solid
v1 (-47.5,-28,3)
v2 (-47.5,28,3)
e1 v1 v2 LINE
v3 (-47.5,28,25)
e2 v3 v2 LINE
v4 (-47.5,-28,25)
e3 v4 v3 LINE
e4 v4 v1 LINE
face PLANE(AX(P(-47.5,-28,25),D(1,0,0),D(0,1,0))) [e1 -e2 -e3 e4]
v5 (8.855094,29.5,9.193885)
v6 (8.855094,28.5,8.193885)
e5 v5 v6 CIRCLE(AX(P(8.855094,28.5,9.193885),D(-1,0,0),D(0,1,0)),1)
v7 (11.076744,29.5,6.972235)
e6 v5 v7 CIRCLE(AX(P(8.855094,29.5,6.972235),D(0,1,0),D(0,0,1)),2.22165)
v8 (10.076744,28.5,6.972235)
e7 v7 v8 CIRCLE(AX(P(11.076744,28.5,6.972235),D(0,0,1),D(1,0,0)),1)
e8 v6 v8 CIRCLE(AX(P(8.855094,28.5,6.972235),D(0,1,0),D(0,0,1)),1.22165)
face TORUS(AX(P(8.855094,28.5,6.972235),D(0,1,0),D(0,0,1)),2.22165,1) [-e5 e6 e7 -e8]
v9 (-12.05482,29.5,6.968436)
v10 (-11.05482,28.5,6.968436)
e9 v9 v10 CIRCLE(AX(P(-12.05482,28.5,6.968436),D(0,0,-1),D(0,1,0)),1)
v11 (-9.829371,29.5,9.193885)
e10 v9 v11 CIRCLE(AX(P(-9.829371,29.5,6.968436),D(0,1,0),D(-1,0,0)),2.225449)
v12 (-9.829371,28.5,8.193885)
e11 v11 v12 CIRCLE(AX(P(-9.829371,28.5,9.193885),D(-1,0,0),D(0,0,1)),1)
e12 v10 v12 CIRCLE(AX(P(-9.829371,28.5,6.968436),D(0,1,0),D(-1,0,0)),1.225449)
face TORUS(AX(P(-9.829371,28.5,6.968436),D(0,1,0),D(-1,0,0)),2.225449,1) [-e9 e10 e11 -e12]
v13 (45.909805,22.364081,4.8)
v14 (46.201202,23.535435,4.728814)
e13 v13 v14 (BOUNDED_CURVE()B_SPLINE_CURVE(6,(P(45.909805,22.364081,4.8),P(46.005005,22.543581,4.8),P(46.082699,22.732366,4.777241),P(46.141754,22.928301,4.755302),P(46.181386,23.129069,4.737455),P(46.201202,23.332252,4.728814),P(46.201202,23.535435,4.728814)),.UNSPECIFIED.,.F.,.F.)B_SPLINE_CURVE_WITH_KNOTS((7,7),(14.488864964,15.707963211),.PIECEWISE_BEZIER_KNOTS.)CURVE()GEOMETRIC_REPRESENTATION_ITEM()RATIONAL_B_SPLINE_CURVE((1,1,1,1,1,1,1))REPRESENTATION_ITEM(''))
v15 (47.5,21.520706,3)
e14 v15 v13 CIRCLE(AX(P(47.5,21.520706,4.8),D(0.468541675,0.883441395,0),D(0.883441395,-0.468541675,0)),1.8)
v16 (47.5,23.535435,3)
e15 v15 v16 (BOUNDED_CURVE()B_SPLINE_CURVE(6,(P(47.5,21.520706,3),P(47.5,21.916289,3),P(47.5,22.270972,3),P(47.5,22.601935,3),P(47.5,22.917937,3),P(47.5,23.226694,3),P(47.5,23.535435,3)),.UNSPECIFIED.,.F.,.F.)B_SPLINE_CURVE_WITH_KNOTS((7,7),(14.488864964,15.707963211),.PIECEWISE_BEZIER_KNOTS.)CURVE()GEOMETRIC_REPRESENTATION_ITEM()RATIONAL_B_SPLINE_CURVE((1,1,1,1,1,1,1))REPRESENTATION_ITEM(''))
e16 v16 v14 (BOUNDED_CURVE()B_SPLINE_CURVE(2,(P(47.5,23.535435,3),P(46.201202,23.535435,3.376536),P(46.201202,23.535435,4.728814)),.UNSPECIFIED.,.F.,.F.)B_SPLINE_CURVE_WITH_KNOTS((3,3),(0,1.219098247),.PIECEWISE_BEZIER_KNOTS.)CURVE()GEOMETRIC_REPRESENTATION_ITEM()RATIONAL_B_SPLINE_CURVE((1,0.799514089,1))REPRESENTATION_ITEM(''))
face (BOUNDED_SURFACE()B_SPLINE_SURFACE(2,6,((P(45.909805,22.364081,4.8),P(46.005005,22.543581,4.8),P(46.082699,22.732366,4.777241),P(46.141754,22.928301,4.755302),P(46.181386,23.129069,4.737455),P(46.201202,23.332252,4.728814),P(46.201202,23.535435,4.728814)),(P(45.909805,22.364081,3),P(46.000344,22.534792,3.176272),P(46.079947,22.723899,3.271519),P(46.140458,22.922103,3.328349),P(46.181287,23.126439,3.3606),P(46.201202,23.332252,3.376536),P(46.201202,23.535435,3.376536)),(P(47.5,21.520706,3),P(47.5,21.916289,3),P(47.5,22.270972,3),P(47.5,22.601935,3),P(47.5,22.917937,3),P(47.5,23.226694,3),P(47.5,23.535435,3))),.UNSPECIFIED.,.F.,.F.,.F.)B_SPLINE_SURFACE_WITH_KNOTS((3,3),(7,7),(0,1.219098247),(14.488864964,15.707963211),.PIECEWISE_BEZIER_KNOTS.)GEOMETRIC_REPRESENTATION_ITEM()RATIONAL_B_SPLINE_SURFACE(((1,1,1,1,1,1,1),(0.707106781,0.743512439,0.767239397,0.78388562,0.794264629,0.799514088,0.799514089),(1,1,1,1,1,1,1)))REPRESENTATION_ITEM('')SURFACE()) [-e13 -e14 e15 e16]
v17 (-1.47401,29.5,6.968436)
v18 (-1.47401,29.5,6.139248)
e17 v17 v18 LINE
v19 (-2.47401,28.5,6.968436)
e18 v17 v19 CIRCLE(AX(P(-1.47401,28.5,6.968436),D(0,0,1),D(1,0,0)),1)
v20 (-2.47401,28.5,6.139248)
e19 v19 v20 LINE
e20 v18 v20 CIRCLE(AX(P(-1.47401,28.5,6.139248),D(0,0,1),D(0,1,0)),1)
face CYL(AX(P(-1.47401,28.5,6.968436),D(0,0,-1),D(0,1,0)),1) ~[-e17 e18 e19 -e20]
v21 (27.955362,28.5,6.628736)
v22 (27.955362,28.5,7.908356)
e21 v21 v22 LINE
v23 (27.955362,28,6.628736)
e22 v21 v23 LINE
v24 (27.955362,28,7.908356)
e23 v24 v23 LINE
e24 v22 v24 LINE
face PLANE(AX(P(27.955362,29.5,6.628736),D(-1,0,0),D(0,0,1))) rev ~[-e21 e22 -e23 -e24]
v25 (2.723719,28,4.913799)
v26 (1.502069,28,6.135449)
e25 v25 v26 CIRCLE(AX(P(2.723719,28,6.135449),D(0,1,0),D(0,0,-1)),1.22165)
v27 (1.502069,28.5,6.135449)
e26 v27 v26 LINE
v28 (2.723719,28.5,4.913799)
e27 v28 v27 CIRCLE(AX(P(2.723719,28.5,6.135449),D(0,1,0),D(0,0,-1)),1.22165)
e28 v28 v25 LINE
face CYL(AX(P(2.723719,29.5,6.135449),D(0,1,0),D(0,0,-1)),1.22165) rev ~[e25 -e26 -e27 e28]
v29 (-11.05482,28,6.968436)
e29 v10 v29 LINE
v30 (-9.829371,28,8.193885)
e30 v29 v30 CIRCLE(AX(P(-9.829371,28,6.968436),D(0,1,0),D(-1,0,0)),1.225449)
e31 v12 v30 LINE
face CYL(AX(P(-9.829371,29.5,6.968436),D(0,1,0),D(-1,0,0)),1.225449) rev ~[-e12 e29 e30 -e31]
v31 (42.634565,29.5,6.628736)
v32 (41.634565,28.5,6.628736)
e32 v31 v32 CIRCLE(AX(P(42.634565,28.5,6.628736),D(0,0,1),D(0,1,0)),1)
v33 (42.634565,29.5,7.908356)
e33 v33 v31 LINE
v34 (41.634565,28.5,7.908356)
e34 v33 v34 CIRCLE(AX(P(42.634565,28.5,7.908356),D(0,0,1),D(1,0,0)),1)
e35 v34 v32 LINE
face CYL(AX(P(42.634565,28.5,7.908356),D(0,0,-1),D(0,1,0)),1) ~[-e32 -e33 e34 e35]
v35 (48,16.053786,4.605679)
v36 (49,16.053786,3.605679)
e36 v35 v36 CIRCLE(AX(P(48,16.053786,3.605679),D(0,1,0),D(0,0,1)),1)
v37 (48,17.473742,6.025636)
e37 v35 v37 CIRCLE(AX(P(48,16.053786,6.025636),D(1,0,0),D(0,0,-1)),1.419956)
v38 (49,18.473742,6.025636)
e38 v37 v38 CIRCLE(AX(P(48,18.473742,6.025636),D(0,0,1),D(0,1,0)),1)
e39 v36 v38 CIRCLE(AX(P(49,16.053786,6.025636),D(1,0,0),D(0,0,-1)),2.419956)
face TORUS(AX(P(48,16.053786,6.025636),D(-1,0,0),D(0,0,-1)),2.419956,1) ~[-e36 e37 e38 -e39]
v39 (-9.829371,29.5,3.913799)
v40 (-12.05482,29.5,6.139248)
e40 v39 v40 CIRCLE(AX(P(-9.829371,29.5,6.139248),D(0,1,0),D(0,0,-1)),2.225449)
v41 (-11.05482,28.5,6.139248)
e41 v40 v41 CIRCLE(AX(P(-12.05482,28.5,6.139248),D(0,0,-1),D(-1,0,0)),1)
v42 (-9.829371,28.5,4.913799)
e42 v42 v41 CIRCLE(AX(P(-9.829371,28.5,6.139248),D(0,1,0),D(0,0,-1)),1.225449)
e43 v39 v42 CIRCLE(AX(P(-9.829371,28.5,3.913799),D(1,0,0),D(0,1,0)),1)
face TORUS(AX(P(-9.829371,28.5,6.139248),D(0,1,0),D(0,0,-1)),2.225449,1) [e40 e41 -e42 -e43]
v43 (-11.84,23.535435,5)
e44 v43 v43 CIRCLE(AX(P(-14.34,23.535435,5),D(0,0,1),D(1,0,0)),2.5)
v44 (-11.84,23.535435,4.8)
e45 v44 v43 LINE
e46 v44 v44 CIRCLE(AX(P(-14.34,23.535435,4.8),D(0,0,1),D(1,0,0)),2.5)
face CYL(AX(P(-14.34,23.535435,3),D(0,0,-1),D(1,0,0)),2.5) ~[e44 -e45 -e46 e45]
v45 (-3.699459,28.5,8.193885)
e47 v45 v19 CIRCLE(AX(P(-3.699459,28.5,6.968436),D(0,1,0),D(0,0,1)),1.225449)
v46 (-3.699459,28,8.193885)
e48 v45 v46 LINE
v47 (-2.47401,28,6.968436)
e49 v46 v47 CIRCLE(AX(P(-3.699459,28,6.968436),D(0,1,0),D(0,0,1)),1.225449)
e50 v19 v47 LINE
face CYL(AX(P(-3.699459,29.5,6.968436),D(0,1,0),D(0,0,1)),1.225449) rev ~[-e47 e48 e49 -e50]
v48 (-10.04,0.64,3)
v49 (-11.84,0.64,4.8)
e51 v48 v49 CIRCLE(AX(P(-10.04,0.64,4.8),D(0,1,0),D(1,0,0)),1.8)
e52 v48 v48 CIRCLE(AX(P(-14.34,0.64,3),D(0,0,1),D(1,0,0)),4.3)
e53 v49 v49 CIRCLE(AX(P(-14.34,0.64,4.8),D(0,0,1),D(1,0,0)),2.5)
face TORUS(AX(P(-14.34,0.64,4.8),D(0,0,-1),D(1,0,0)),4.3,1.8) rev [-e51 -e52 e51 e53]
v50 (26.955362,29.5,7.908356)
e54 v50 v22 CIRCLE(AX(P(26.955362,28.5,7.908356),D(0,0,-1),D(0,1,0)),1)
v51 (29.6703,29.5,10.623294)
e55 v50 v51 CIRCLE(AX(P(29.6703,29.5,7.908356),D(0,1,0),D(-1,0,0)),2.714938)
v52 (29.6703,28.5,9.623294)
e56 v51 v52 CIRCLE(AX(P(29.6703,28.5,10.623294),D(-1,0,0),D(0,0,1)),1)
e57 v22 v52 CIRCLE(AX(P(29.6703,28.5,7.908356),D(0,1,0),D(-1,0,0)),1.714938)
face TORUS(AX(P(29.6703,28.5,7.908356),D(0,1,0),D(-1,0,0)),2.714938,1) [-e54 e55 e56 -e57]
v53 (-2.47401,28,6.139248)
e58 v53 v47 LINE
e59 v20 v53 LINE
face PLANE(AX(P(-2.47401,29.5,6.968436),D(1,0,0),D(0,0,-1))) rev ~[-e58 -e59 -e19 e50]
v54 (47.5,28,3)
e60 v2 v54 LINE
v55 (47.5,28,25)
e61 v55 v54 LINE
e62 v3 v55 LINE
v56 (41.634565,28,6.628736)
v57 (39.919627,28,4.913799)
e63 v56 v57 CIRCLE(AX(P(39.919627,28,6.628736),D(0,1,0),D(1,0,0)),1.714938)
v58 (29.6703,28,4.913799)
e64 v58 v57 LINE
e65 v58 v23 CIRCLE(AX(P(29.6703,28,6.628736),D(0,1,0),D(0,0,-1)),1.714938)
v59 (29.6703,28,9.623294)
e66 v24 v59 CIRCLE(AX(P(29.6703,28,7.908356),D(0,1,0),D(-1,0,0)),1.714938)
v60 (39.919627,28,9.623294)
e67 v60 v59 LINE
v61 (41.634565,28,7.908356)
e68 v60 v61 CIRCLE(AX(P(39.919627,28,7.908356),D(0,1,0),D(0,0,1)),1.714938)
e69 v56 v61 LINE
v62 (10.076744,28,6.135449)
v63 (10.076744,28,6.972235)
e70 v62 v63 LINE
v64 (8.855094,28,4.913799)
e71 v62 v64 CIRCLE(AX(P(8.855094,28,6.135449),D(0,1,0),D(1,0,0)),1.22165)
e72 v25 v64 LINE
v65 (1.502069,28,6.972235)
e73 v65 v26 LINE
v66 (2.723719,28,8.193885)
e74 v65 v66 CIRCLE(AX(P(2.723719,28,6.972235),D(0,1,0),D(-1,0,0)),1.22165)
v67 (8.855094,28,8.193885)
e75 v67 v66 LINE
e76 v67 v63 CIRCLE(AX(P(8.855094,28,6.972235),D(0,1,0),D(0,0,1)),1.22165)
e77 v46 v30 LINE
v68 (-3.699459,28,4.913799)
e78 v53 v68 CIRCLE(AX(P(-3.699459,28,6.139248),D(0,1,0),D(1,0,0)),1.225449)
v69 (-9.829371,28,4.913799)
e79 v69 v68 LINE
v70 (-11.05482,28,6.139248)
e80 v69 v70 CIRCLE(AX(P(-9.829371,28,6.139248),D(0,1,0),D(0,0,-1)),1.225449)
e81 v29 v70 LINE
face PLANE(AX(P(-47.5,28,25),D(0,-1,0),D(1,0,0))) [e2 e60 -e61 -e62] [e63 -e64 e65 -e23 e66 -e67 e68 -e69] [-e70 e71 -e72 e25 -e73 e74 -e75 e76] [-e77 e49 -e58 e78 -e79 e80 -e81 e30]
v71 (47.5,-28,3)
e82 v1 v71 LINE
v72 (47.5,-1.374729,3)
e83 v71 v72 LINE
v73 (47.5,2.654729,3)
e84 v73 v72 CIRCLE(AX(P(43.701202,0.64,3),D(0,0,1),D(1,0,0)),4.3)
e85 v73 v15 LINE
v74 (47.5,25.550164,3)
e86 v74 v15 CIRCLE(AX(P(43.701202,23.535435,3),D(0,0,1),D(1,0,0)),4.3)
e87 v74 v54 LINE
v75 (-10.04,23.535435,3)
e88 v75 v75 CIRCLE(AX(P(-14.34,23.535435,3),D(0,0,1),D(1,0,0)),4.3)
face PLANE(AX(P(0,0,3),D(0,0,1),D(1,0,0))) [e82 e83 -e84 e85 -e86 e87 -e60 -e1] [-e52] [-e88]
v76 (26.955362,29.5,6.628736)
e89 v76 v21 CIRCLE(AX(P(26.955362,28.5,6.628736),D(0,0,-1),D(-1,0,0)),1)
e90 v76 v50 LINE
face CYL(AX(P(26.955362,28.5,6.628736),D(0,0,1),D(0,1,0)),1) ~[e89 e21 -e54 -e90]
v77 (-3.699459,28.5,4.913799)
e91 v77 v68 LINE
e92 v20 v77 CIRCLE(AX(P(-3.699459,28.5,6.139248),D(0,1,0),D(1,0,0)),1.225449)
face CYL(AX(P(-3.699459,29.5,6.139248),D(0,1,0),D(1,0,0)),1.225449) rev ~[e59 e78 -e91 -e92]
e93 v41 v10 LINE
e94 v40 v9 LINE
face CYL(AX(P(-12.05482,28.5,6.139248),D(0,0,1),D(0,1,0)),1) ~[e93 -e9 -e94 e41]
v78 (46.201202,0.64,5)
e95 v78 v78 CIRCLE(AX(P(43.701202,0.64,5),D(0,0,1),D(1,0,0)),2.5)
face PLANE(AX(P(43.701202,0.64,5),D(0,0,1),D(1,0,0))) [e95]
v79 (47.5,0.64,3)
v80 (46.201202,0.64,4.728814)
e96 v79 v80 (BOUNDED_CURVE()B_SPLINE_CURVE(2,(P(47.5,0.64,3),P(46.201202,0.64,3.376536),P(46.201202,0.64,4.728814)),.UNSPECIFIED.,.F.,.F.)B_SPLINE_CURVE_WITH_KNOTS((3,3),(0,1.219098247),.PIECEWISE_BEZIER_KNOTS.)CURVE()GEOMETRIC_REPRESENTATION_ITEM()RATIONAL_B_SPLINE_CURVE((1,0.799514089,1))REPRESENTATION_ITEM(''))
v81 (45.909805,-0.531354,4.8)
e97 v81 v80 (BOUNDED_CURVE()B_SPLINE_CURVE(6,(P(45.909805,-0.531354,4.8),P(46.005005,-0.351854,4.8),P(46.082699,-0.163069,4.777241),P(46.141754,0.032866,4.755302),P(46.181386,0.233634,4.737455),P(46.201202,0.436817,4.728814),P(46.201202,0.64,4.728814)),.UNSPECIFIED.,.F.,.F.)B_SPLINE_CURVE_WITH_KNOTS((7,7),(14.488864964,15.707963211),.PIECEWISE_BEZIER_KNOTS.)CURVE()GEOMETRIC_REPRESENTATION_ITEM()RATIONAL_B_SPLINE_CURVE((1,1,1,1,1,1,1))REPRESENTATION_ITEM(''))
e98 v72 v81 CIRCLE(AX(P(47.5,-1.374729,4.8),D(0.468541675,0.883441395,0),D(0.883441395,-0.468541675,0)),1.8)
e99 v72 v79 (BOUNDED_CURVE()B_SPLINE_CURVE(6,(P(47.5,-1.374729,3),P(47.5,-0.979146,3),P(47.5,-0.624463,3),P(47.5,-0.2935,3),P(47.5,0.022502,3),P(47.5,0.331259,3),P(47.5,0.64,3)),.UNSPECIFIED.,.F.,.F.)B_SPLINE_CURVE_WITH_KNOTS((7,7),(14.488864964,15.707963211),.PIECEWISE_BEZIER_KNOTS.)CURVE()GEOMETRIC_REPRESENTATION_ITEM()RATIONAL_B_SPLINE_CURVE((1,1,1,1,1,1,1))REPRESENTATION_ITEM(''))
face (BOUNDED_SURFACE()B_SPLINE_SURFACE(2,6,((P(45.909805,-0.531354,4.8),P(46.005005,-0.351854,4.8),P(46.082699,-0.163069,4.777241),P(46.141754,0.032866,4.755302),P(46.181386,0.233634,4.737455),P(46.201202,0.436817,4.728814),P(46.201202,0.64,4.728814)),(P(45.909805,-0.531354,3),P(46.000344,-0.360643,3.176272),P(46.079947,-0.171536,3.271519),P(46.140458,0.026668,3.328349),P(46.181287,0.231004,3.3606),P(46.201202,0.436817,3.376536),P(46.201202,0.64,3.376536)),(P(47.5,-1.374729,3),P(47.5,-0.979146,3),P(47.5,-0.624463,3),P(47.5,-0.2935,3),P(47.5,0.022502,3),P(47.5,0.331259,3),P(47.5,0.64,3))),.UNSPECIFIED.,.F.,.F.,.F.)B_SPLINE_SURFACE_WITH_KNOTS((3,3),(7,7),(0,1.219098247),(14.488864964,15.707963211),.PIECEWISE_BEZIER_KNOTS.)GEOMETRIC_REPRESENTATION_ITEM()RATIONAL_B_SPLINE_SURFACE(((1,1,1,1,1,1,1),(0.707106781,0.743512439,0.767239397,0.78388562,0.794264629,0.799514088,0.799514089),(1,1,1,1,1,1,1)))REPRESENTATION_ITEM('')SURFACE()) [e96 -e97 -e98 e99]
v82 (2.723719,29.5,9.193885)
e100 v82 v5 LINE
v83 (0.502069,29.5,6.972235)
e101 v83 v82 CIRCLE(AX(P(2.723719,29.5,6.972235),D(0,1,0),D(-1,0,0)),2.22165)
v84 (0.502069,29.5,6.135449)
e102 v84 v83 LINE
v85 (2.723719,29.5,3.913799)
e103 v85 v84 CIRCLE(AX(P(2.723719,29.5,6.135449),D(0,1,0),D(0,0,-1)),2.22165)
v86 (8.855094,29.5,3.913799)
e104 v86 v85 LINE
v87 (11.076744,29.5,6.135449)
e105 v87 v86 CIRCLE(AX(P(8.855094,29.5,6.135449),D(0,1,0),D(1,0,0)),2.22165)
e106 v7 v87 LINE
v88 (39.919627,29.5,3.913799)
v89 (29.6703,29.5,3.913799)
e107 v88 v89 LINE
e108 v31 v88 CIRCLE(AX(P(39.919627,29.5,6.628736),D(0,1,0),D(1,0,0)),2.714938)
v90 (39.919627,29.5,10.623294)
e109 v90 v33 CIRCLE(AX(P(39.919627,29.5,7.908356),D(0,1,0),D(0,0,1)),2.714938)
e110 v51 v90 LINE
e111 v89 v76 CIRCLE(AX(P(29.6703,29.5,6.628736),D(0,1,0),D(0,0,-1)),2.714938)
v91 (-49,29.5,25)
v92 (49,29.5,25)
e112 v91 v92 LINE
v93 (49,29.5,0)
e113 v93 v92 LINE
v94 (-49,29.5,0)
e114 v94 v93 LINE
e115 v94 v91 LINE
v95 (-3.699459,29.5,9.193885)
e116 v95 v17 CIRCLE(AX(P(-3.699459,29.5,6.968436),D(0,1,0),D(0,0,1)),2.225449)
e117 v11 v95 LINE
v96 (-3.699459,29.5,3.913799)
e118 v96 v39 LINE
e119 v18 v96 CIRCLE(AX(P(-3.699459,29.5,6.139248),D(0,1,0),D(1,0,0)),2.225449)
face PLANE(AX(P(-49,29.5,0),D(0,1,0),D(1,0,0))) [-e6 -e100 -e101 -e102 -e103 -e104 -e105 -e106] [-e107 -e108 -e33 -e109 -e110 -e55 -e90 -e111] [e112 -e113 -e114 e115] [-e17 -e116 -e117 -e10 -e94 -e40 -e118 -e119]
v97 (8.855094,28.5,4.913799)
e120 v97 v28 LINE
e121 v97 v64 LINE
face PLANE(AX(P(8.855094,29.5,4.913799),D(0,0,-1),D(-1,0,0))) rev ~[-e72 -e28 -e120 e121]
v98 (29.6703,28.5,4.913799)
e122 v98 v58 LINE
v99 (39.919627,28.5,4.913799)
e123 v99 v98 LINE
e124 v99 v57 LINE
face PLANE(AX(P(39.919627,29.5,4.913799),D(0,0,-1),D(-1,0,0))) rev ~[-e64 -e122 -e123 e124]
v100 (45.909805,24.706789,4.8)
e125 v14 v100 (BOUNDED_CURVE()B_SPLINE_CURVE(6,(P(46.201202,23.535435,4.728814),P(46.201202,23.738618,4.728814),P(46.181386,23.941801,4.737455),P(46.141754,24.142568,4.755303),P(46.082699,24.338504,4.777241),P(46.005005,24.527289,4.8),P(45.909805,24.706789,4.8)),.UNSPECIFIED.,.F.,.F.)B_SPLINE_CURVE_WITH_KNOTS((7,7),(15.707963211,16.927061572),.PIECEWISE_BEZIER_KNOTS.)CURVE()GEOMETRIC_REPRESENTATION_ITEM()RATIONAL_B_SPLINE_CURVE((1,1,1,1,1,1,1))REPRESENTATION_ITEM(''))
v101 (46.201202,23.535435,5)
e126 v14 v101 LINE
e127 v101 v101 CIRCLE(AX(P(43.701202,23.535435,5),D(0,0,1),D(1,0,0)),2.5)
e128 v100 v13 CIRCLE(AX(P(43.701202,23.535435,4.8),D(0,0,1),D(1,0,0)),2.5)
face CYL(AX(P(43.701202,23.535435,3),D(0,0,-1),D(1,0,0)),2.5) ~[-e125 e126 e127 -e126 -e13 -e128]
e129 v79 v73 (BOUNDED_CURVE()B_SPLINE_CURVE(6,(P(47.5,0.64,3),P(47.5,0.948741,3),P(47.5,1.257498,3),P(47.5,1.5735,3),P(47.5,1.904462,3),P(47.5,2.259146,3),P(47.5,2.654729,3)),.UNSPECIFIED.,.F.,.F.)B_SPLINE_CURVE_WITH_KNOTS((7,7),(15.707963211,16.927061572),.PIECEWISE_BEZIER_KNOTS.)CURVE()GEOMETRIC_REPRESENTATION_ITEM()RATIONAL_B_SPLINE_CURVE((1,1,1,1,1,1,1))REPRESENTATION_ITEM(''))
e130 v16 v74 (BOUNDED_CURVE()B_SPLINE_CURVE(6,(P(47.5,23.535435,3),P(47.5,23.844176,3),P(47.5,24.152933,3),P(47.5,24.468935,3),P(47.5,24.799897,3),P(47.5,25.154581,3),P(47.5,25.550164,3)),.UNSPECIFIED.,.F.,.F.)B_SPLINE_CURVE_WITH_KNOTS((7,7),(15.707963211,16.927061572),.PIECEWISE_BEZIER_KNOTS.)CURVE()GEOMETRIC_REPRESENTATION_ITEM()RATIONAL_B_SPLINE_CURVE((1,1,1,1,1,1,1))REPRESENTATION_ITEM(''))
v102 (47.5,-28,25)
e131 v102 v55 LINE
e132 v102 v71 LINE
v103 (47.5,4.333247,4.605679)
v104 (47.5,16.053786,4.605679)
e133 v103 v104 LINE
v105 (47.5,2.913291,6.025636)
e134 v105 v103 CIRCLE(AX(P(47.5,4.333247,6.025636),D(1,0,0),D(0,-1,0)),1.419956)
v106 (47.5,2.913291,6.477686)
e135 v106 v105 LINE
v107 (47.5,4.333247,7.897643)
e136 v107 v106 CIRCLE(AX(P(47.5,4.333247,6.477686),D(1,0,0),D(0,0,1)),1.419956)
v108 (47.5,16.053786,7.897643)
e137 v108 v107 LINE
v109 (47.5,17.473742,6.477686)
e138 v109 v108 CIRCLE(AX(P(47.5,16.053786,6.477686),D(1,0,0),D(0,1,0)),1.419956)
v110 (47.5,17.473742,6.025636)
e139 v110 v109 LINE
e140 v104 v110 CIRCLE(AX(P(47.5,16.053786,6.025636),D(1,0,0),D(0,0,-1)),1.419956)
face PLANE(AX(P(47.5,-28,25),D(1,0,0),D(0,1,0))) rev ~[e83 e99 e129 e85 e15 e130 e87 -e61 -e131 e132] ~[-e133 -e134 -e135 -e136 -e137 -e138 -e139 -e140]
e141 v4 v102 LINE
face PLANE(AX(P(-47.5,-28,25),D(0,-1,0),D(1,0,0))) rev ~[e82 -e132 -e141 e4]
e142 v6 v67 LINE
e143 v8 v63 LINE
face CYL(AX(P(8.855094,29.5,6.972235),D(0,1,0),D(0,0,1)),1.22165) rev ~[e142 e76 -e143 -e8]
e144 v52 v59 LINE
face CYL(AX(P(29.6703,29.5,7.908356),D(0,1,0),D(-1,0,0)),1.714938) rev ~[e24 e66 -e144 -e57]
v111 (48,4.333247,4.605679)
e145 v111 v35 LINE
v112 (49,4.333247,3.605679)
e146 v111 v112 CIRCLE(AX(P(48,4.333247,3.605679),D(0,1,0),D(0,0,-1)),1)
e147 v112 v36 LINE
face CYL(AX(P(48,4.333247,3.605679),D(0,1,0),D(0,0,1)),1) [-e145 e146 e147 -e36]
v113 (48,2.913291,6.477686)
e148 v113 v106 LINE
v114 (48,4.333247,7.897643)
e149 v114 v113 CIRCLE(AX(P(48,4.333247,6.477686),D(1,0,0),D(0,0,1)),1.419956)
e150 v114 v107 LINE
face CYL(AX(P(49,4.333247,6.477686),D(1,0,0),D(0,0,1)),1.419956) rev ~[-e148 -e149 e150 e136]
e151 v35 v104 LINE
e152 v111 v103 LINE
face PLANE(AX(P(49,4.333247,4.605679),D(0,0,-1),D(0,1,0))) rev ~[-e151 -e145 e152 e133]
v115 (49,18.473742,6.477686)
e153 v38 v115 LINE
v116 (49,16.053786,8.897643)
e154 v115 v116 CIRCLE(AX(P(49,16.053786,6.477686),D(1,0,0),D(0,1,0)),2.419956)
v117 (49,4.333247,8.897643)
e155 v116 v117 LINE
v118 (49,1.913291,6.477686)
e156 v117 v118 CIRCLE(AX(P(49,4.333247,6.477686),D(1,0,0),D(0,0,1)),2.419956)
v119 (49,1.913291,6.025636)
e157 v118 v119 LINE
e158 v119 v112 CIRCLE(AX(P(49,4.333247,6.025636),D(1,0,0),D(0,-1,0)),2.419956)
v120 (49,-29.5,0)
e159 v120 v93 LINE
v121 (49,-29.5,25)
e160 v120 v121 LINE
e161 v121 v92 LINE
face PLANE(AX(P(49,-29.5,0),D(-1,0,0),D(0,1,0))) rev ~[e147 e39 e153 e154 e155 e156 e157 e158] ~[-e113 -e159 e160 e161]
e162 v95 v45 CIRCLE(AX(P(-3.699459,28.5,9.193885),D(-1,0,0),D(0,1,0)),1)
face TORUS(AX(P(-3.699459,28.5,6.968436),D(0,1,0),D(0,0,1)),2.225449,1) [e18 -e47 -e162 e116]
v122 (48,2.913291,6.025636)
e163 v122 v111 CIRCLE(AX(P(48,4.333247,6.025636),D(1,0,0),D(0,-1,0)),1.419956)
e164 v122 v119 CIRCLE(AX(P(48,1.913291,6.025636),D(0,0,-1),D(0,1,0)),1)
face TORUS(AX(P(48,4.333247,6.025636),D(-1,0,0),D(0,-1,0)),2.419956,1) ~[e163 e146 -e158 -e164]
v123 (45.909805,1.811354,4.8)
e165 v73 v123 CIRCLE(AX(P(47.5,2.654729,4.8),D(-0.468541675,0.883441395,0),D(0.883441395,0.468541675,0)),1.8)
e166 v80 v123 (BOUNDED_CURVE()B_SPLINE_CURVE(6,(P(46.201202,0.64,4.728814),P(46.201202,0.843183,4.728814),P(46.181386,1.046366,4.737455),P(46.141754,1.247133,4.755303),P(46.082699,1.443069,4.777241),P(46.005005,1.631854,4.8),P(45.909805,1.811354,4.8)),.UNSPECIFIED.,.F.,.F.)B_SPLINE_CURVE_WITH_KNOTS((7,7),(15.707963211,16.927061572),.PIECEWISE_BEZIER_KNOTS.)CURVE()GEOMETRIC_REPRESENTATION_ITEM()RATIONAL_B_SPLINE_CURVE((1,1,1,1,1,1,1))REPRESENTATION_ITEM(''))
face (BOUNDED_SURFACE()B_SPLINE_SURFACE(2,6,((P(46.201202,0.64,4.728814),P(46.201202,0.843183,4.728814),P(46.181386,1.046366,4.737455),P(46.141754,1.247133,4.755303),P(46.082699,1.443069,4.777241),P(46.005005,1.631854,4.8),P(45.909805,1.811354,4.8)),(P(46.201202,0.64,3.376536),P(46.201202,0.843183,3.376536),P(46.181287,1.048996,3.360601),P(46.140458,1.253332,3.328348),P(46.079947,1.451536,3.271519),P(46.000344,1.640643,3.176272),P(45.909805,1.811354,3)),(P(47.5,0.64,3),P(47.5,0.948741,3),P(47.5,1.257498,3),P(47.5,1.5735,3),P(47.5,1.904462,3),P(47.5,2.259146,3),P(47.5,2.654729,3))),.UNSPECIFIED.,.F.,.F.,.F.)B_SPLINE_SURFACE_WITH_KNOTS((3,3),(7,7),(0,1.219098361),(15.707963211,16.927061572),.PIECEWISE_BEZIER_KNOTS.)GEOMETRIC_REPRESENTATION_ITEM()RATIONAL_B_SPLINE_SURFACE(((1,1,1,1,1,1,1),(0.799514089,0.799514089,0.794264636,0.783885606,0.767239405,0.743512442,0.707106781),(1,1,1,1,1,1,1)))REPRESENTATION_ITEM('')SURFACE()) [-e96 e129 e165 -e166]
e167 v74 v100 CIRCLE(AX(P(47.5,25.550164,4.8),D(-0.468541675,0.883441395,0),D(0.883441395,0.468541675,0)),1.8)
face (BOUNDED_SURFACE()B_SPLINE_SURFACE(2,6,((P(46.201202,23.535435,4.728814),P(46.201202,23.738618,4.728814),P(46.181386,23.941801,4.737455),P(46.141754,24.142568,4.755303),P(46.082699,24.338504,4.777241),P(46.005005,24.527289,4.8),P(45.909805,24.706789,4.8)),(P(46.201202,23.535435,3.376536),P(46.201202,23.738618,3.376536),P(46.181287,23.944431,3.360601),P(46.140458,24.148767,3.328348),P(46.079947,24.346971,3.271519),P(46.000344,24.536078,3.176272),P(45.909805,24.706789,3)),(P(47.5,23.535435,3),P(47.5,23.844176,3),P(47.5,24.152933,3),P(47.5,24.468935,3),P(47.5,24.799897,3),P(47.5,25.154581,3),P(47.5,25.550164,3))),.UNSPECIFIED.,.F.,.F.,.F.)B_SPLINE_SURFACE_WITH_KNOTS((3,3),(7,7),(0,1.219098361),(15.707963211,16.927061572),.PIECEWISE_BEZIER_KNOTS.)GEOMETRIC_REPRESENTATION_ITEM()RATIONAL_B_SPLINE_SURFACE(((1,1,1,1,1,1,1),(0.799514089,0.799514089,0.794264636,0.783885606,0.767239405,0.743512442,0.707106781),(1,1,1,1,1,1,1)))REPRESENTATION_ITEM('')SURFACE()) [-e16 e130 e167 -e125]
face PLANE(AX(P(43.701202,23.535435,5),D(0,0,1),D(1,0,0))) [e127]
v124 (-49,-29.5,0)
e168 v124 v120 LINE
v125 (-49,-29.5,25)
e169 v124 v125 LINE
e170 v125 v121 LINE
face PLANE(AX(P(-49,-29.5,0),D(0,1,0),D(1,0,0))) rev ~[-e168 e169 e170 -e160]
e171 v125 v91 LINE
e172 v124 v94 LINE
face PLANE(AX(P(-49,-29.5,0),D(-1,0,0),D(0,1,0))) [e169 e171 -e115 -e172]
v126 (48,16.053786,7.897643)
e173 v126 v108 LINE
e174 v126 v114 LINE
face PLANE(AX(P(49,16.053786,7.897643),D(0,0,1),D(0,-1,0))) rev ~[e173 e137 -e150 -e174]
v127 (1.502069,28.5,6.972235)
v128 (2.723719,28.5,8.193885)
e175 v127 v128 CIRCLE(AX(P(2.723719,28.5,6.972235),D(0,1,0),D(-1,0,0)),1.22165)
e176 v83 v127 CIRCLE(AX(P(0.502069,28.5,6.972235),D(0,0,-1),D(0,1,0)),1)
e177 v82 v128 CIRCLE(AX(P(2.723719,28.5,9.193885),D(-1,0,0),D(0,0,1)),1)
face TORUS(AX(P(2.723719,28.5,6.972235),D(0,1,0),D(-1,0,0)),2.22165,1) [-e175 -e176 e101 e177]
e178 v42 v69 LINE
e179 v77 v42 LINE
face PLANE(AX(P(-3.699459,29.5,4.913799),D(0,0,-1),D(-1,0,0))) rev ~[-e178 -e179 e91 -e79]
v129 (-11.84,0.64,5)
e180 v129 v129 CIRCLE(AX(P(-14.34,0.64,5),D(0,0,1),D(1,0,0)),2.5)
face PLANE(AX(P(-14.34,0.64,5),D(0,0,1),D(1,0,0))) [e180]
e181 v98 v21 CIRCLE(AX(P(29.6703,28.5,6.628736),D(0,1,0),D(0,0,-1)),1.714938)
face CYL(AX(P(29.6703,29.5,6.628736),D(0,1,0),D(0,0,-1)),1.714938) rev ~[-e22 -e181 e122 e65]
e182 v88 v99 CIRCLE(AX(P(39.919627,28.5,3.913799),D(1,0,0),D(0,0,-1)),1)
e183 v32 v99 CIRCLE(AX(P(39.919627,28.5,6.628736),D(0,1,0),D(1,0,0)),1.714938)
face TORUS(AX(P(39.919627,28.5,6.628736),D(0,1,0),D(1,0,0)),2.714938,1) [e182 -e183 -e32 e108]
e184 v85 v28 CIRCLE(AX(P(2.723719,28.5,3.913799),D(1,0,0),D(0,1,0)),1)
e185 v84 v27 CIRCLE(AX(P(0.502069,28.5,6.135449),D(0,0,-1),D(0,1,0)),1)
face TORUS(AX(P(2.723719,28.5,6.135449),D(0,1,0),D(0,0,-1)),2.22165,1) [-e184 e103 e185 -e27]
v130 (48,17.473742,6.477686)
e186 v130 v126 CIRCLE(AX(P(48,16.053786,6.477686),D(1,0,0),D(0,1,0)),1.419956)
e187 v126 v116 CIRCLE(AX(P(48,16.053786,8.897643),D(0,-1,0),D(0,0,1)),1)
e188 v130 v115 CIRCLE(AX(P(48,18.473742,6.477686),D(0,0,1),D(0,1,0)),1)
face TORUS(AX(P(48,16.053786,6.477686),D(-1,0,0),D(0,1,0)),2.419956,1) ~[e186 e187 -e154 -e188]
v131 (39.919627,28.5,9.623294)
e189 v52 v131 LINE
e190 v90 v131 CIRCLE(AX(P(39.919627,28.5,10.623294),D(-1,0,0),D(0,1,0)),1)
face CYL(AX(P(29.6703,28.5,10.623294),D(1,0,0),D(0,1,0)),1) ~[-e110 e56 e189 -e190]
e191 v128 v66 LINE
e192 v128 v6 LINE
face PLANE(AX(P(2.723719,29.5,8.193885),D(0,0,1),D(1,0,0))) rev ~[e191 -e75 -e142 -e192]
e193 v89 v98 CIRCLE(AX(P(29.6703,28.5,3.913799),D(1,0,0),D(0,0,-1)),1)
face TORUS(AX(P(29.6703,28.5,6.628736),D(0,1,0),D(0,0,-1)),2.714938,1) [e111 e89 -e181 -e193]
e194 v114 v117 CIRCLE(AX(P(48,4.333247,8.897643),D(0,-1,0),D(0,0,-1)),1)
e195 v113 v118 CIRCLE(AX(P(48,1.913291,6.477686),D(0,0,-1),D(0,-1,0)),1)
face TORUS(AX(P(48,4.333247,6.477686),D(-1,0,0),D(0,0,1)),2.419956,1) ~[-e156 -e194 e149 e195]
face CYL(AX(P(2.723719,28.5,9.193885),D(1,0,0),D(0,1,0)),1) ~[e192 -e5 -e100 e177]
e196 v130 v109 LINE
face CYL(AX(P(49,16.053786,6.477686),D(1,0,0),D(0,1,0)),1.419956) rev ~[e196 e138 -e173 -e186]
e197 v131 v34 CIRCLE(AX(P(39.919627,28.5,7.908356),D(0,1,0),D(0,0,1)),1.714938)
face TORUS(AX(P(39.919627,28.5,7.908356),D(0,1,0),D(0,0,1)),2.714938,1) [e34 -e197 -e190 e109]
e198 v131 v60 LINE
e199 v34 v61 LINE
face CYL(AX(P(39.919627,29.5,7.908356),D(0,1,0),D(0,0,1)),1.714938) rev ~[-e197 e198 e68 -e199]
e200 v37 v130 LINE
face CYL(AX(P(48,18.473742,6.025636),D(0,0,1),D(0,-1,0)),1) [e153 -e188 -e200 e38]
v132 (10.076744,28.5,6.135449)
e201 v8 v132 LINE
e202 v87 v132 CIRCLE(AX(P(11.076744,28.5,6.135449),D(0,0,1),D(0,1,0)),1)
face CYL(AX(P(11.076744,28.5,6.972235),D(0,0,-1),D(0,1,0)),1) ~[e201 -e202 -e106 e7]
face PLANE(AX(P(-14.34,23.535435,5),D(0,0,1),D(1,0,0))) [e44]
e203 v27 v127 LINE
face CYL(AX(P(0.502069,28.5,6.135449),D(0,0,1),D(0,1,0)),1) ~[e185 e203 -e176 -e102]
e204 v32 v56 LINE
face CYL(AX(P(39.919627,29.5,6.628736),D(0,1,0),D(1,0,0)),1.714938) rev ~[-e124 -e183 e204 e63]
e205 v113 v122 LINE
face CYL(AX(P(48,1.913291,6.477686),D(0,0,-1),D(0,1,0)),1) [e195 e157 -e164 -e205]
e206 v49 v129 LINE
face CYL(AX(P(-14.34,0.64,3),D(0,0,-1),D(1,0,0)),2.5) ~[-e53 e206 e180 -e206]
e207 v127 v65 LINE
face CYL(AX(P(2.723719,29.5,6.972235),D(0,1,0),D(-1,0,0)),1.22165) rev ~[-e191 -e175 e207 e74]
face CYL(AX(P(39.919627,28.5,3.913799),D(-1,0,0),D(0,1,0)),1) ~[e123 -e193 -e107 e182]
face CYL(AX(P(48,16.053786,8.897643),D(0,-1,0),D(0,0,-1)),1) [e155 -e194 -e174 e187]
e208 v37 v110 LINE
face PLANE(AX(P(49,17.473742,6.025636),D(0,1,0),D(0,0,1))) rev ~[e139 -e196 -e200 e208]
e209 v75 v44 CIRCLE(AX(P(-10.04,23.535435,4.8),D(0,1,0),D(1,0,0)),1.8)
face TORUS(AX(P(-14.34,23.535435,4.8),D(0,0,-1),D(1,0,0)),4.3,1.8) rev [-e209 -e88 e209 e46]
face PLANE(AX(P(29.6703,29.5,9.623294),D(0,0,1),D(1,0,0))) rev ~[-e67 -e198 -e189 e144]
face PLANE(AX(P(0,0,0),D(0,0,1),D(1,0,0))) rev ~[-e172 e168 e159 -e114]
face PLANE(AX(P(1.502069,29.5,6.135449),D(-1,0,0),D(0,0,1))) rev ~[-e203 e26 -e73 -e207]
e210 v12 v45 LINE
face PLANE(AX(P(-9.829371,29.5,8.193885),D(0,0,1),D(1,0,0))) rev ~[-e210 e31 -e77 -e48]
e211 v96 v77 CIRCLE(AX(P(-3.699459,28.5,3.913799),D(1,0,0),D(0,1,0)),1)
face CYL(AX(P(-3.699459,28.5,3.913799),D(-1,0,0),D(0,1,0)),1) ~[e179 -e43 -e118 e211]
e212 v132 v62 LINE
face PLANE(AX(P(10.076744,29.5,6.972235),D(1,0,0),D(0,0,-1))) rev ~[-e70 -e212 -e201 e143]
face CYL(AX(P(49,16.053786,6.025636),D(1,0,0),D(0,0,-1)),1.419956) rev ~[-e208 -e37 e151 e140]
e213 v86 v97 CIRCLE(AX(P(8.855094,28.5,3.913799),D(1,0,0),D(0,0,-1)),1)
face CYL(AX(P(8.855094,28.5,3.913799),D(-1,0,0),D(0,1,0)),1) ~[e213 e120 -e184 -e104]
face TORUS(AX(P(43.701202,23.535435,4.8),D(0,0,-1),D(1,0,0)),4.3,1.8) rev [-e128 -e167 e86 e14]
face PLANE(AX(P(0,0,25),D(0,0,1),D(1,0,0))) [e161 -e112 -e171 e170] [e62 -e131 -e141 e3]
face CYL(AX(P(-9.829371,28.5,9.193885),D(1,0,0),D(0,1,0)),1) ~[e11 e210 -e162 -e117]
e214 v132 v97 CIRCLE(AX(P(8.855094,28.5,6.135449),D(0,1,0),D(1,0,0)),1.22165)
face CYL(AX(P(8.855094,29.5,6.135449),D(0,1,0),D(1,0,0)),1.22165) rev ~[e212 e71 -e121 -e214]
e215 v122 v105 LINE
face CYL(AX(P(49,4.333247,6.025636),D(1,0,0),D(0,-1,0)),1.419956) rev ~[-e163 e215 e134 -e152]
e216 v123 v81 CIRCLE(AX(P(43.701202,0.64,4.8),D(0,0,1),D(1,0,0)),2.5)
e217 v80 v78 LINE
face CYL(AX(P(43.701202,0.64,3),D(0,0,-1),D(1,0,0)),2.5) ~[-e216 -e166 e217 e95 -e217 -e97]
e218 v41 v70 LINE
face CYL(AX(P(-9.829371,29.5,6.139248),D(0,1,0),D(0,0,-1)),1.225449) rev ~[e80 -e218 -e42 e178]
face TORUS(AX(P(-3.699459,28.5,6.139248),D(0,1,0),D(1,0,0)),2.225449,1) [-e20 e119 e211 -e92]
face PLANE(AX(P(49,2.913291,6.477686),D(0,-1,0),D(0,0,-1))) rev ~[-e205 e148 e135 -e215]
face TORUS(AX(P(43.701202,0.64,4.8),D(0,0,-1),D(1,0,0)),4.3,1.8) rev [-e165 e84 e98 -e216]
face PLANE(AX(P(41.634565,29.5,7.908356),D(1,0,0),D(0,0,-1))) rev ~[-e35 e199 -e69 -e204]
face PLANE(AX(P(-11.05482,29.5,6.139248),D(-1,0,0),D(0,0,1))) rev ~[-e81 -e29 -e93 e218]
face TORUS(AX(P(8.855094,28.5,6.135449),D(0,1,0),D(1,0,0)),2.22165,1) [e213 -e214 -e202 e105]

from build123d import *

# Parameters (mm, degrees)
SKETCH034_W     = 98
SKETCH034_H     = 59
PAD018_DEPTH    = 25
SKETCH035_W     = 95
SKETCH035_H     = 56
POCKET011_DEPTH = 22
SKETCH036_R     = 2.5
PAD019_DEPTH    = 2
FILLET005_R     = 1.8
POCKET012_DEPTH = 2
POCKET013_DEPTH = 2
FILLET006_R     = 1


with BuildPart() as part:
    # Sketch034 → Pad018 (new body)
    with BuildSketch(Plane.XY):
        Rectangle(SKETCH034_W, SKETCH034_H)
    extrude(amount=PAD018_DEPTH)

    # Sketch035 (on Face6 of Pad018) → Pocket011 (cut)
    with BuildSketch(Plane.XY.offset(25)):
        Rectangle(SKETCH035_W, SKETCH035_H)
    extrude(amount=-POCKET011_DEPTH, mode=Mode.SUBTRACT)

    # Sketch036 (on Face11 of Pocket011) → Pad019 (join)
    with BuildSketch(Plane.XY.offset(3)):
        with Locations((-14.34, 0.64)):
            Circle(SKETCH036_R)
        with Locations((-14.34, 23.535435)):
            Circle(SKETCH036_R)
        with Locations((43.701202, 23.535435)):
            Circle(SKETCH036_R)
        with Locations((43.701202, 0.64)):
            Circle(SKETCH036_R)
    extrude(amount=PAD019_DEPTH)

    # Fillet005
    fillet005_edges = [part.edges().sort_by_distance(p)[0] for p in [
        (-16.84, 23.535435, 3),
        (-16.84, 0.64, 3),
        (41.201202, 23.535435, 3),
        (41.201202, 0.64, 3),
    ]]
    fillet(fillet005_edges, radius=FILLET005_R)

    # Sketch038 (on Face16 of Fillet005) → Pocket012 (cut)
    with BuildSketch(Plane.YZ.offset(49)):
        with BuildLine():
            Line((2.9132905237, 6.4776863938), (2.9132905237, 6.0256358886))
            ThreePointArc((2.9132905237, 6.0256358886), (3.3291861446, 5.0215750402), (4.333246993, 4.6056794194))
            Line((4.333246993, 4.6056794194), (16.053786, 4.6056794194))
            ThreePointArc((16.053786, 4.6056794194), (17.0578468484, 5.0215750402), (17.4737424693, 6.0256358886))
            Line((17.4737424693, 6.0256358886), (17.4737424693, 6.4776863938))
            ThreePointArc((17.4737424693, 6.4776863938), (17.0578468484, 7.4817472422), (16.053786, 7.8976428631))
            Line((16.053786, 7.8976428631), (4.333246993, 7.8976428631))
            ThreePointArc((4.333246993, 7.8976428631), (3.3291861446, 7.4817472422), (2.9132905237, 6.4776863938))
        make_face()
    extrude(amount=-POCKET012_DEPTH, mode=Mode.SUBTRACT)

    # Sketch039 (on Face26 of Pocket012) → Pocket013 (cut)
    with BuildSketch(Plane(origin=(0, 29.5, 0), x_dir=(-1, 0, 0), z_dir=(0, 1, 0))):
        with BuildLine():
            Line((-41.6345647291, 7.9083563717), (-41.6345647291, 6.628736229))
            ThreePointArc((-41.6345647291, 6.628736229), (-41.1322711271, 5.4160922027), (-39.9196271008, 4.9137986007))
            Line((-39.9196271008, 4.9137986007), (-29.6703, 4.9137986007))
            ThreePointArc((-29.6703, 4.9137986007), (-28.4576559737, 5.4160922027), (-27.9553623717, 6.628736229))
            Line((-27.9553623717, 6.628736229), (-27.9553623717, 7.9083563717))
            ThreePointArc((-27.9553623717, 7.9083563717), (-28.4576559737, 9.121000398), (-29.6703, 9.623294))
            Line((-29.6703, 9.623294), (-39.9196271008, 9.623294))
            ThreePointArc((-39.9196271008, 9.623294), (-41.1322711271, 9.121000398), (-41.6345647291, 7.9083563717))
        make_face()
        with BuildLine():
            Line((-10.076743704, 6.9722353501), (-10.076743704, 6.1354485426))
            ThreePointArc((-10.076743704, 6.1354485426), (-9.7189307203, 5.2716115844), (-8.8550937622, 4.9137986007))
            Line((-8.8550937622, 4.9137986007), (-2.7237187171, 4.9137986007))
            ThreePointArc((-2.7237187171, 4.9137986007), (-1.859881759, 5.2716115844), (-1.5020687753, 6.1354485426))
            Line((-1.5020687753, 6.1354485426), (-1.5020687753, 6.9722353501))
            ThreePointArc((-1.5020687753, 6.9722353501), (-1.859881759, 7.8360723082), (-2.7237187171, 8.193885292))
            Line((-2.7237187171, 8.193885292), (-8.8550937622, 8.193885292))
            ThreePointArc((-8.8550937622, 8.193885292), (-9.7189307203, 7.8360723082), (-10.076743704, 6.9722353501))
        make_face()
        with BuildLine():
            Line((2.4740100235, 6.9684360306), (2.4740100235, 6.139247862))
            ThreePointArc((2.4740100235, 6.139247862), (2.8329358021, 5.2727243793), (3.6994592848, 4.9137986007))
            Line((3.6994592848, 4.9137986007), (9.8293706619, 4.9137986007))
            ThreePointArc((9.8293706619, 4.9137986007), (10.6958941446, 5.2727243793), (11.0548199233, 6.139247862))
            Line((11.0548199233, 6.139247862), (11.0548199233, 6.9684360306))
            ThreePointArc((11.0548199233, 6.9684360306), (10.6958941446, 7.8349595133), (9.8293706619, 8.193885292))
            Line((9.8293706619, 8.193885292), (3.6994592848, 8.193885292))
            ThreePointArc((3.6994592848, 8.193885292), (2.8329358021, 7.8349595133), (2.4740100235, 6.9684360306))
        make_face()
    extrude(amount=-POCKET013_DEPTH, mode=Mode.SUBTRACT)

    # Fillet006
    fillet006_edges = [part.edges().sort_by_distance(p)[0] for p in [
        (28.457656, 29.5, 5.416092),
        (34.794964, 29.5, 4.913799),
        (27.955362, 29.5, 7.268546),
        (28.457656, 29.5, 9.121),
        (34.794964, 29.5, 9.623294),
        (41.132271, 29.5, 9.121),
        (41.634565, 29.5, 7.268546),
        (41.132271, 29.5, 5.416092),
        (1.502069, 29.5, 6.553842),
        (1.859882, 29.5, 5.271612),
        (5.789406, 29.5, 4.913799),
        (9.718931, 29.5, 5.271612),
        (9.718931, 29.5, 7.836072),
        (10.076744, 29.5, 6.553842),
        (5.789406, 29.5, 8.193885),
        (1.859882, 29.5, 7.836072),
        (-6.764415, 29.5, 4.913799),
        (-2.832936, 29.5, 5.272724),
        (-2.47401, 29.5, 6.553842),
        (-2.832936, 29.5, 7.83496),
        (-10.695894, 29.5, 5.272724),
        (-11.05482, 29.5, 6.553842),
        (-10.695894, 29.5, 7.83496),
        (-6.764415, 29.5, 8.193885),
        (49, 17.057847, 7.481747),
        (49, 17.057847, 5.021575),
        (49, 10.193516, 4.605679),
        (49, 10.193516, 7.897643),
        (49, 3.329186, 7.481747),
        (49, 3.329186, 5.021575),
        (49, 2.913291, 6.251661),
        (49, 17.473742, 6.251661),
    ]]
    fillet(fillet006_edges, radius=FILLET006_R)


solid = part.part
